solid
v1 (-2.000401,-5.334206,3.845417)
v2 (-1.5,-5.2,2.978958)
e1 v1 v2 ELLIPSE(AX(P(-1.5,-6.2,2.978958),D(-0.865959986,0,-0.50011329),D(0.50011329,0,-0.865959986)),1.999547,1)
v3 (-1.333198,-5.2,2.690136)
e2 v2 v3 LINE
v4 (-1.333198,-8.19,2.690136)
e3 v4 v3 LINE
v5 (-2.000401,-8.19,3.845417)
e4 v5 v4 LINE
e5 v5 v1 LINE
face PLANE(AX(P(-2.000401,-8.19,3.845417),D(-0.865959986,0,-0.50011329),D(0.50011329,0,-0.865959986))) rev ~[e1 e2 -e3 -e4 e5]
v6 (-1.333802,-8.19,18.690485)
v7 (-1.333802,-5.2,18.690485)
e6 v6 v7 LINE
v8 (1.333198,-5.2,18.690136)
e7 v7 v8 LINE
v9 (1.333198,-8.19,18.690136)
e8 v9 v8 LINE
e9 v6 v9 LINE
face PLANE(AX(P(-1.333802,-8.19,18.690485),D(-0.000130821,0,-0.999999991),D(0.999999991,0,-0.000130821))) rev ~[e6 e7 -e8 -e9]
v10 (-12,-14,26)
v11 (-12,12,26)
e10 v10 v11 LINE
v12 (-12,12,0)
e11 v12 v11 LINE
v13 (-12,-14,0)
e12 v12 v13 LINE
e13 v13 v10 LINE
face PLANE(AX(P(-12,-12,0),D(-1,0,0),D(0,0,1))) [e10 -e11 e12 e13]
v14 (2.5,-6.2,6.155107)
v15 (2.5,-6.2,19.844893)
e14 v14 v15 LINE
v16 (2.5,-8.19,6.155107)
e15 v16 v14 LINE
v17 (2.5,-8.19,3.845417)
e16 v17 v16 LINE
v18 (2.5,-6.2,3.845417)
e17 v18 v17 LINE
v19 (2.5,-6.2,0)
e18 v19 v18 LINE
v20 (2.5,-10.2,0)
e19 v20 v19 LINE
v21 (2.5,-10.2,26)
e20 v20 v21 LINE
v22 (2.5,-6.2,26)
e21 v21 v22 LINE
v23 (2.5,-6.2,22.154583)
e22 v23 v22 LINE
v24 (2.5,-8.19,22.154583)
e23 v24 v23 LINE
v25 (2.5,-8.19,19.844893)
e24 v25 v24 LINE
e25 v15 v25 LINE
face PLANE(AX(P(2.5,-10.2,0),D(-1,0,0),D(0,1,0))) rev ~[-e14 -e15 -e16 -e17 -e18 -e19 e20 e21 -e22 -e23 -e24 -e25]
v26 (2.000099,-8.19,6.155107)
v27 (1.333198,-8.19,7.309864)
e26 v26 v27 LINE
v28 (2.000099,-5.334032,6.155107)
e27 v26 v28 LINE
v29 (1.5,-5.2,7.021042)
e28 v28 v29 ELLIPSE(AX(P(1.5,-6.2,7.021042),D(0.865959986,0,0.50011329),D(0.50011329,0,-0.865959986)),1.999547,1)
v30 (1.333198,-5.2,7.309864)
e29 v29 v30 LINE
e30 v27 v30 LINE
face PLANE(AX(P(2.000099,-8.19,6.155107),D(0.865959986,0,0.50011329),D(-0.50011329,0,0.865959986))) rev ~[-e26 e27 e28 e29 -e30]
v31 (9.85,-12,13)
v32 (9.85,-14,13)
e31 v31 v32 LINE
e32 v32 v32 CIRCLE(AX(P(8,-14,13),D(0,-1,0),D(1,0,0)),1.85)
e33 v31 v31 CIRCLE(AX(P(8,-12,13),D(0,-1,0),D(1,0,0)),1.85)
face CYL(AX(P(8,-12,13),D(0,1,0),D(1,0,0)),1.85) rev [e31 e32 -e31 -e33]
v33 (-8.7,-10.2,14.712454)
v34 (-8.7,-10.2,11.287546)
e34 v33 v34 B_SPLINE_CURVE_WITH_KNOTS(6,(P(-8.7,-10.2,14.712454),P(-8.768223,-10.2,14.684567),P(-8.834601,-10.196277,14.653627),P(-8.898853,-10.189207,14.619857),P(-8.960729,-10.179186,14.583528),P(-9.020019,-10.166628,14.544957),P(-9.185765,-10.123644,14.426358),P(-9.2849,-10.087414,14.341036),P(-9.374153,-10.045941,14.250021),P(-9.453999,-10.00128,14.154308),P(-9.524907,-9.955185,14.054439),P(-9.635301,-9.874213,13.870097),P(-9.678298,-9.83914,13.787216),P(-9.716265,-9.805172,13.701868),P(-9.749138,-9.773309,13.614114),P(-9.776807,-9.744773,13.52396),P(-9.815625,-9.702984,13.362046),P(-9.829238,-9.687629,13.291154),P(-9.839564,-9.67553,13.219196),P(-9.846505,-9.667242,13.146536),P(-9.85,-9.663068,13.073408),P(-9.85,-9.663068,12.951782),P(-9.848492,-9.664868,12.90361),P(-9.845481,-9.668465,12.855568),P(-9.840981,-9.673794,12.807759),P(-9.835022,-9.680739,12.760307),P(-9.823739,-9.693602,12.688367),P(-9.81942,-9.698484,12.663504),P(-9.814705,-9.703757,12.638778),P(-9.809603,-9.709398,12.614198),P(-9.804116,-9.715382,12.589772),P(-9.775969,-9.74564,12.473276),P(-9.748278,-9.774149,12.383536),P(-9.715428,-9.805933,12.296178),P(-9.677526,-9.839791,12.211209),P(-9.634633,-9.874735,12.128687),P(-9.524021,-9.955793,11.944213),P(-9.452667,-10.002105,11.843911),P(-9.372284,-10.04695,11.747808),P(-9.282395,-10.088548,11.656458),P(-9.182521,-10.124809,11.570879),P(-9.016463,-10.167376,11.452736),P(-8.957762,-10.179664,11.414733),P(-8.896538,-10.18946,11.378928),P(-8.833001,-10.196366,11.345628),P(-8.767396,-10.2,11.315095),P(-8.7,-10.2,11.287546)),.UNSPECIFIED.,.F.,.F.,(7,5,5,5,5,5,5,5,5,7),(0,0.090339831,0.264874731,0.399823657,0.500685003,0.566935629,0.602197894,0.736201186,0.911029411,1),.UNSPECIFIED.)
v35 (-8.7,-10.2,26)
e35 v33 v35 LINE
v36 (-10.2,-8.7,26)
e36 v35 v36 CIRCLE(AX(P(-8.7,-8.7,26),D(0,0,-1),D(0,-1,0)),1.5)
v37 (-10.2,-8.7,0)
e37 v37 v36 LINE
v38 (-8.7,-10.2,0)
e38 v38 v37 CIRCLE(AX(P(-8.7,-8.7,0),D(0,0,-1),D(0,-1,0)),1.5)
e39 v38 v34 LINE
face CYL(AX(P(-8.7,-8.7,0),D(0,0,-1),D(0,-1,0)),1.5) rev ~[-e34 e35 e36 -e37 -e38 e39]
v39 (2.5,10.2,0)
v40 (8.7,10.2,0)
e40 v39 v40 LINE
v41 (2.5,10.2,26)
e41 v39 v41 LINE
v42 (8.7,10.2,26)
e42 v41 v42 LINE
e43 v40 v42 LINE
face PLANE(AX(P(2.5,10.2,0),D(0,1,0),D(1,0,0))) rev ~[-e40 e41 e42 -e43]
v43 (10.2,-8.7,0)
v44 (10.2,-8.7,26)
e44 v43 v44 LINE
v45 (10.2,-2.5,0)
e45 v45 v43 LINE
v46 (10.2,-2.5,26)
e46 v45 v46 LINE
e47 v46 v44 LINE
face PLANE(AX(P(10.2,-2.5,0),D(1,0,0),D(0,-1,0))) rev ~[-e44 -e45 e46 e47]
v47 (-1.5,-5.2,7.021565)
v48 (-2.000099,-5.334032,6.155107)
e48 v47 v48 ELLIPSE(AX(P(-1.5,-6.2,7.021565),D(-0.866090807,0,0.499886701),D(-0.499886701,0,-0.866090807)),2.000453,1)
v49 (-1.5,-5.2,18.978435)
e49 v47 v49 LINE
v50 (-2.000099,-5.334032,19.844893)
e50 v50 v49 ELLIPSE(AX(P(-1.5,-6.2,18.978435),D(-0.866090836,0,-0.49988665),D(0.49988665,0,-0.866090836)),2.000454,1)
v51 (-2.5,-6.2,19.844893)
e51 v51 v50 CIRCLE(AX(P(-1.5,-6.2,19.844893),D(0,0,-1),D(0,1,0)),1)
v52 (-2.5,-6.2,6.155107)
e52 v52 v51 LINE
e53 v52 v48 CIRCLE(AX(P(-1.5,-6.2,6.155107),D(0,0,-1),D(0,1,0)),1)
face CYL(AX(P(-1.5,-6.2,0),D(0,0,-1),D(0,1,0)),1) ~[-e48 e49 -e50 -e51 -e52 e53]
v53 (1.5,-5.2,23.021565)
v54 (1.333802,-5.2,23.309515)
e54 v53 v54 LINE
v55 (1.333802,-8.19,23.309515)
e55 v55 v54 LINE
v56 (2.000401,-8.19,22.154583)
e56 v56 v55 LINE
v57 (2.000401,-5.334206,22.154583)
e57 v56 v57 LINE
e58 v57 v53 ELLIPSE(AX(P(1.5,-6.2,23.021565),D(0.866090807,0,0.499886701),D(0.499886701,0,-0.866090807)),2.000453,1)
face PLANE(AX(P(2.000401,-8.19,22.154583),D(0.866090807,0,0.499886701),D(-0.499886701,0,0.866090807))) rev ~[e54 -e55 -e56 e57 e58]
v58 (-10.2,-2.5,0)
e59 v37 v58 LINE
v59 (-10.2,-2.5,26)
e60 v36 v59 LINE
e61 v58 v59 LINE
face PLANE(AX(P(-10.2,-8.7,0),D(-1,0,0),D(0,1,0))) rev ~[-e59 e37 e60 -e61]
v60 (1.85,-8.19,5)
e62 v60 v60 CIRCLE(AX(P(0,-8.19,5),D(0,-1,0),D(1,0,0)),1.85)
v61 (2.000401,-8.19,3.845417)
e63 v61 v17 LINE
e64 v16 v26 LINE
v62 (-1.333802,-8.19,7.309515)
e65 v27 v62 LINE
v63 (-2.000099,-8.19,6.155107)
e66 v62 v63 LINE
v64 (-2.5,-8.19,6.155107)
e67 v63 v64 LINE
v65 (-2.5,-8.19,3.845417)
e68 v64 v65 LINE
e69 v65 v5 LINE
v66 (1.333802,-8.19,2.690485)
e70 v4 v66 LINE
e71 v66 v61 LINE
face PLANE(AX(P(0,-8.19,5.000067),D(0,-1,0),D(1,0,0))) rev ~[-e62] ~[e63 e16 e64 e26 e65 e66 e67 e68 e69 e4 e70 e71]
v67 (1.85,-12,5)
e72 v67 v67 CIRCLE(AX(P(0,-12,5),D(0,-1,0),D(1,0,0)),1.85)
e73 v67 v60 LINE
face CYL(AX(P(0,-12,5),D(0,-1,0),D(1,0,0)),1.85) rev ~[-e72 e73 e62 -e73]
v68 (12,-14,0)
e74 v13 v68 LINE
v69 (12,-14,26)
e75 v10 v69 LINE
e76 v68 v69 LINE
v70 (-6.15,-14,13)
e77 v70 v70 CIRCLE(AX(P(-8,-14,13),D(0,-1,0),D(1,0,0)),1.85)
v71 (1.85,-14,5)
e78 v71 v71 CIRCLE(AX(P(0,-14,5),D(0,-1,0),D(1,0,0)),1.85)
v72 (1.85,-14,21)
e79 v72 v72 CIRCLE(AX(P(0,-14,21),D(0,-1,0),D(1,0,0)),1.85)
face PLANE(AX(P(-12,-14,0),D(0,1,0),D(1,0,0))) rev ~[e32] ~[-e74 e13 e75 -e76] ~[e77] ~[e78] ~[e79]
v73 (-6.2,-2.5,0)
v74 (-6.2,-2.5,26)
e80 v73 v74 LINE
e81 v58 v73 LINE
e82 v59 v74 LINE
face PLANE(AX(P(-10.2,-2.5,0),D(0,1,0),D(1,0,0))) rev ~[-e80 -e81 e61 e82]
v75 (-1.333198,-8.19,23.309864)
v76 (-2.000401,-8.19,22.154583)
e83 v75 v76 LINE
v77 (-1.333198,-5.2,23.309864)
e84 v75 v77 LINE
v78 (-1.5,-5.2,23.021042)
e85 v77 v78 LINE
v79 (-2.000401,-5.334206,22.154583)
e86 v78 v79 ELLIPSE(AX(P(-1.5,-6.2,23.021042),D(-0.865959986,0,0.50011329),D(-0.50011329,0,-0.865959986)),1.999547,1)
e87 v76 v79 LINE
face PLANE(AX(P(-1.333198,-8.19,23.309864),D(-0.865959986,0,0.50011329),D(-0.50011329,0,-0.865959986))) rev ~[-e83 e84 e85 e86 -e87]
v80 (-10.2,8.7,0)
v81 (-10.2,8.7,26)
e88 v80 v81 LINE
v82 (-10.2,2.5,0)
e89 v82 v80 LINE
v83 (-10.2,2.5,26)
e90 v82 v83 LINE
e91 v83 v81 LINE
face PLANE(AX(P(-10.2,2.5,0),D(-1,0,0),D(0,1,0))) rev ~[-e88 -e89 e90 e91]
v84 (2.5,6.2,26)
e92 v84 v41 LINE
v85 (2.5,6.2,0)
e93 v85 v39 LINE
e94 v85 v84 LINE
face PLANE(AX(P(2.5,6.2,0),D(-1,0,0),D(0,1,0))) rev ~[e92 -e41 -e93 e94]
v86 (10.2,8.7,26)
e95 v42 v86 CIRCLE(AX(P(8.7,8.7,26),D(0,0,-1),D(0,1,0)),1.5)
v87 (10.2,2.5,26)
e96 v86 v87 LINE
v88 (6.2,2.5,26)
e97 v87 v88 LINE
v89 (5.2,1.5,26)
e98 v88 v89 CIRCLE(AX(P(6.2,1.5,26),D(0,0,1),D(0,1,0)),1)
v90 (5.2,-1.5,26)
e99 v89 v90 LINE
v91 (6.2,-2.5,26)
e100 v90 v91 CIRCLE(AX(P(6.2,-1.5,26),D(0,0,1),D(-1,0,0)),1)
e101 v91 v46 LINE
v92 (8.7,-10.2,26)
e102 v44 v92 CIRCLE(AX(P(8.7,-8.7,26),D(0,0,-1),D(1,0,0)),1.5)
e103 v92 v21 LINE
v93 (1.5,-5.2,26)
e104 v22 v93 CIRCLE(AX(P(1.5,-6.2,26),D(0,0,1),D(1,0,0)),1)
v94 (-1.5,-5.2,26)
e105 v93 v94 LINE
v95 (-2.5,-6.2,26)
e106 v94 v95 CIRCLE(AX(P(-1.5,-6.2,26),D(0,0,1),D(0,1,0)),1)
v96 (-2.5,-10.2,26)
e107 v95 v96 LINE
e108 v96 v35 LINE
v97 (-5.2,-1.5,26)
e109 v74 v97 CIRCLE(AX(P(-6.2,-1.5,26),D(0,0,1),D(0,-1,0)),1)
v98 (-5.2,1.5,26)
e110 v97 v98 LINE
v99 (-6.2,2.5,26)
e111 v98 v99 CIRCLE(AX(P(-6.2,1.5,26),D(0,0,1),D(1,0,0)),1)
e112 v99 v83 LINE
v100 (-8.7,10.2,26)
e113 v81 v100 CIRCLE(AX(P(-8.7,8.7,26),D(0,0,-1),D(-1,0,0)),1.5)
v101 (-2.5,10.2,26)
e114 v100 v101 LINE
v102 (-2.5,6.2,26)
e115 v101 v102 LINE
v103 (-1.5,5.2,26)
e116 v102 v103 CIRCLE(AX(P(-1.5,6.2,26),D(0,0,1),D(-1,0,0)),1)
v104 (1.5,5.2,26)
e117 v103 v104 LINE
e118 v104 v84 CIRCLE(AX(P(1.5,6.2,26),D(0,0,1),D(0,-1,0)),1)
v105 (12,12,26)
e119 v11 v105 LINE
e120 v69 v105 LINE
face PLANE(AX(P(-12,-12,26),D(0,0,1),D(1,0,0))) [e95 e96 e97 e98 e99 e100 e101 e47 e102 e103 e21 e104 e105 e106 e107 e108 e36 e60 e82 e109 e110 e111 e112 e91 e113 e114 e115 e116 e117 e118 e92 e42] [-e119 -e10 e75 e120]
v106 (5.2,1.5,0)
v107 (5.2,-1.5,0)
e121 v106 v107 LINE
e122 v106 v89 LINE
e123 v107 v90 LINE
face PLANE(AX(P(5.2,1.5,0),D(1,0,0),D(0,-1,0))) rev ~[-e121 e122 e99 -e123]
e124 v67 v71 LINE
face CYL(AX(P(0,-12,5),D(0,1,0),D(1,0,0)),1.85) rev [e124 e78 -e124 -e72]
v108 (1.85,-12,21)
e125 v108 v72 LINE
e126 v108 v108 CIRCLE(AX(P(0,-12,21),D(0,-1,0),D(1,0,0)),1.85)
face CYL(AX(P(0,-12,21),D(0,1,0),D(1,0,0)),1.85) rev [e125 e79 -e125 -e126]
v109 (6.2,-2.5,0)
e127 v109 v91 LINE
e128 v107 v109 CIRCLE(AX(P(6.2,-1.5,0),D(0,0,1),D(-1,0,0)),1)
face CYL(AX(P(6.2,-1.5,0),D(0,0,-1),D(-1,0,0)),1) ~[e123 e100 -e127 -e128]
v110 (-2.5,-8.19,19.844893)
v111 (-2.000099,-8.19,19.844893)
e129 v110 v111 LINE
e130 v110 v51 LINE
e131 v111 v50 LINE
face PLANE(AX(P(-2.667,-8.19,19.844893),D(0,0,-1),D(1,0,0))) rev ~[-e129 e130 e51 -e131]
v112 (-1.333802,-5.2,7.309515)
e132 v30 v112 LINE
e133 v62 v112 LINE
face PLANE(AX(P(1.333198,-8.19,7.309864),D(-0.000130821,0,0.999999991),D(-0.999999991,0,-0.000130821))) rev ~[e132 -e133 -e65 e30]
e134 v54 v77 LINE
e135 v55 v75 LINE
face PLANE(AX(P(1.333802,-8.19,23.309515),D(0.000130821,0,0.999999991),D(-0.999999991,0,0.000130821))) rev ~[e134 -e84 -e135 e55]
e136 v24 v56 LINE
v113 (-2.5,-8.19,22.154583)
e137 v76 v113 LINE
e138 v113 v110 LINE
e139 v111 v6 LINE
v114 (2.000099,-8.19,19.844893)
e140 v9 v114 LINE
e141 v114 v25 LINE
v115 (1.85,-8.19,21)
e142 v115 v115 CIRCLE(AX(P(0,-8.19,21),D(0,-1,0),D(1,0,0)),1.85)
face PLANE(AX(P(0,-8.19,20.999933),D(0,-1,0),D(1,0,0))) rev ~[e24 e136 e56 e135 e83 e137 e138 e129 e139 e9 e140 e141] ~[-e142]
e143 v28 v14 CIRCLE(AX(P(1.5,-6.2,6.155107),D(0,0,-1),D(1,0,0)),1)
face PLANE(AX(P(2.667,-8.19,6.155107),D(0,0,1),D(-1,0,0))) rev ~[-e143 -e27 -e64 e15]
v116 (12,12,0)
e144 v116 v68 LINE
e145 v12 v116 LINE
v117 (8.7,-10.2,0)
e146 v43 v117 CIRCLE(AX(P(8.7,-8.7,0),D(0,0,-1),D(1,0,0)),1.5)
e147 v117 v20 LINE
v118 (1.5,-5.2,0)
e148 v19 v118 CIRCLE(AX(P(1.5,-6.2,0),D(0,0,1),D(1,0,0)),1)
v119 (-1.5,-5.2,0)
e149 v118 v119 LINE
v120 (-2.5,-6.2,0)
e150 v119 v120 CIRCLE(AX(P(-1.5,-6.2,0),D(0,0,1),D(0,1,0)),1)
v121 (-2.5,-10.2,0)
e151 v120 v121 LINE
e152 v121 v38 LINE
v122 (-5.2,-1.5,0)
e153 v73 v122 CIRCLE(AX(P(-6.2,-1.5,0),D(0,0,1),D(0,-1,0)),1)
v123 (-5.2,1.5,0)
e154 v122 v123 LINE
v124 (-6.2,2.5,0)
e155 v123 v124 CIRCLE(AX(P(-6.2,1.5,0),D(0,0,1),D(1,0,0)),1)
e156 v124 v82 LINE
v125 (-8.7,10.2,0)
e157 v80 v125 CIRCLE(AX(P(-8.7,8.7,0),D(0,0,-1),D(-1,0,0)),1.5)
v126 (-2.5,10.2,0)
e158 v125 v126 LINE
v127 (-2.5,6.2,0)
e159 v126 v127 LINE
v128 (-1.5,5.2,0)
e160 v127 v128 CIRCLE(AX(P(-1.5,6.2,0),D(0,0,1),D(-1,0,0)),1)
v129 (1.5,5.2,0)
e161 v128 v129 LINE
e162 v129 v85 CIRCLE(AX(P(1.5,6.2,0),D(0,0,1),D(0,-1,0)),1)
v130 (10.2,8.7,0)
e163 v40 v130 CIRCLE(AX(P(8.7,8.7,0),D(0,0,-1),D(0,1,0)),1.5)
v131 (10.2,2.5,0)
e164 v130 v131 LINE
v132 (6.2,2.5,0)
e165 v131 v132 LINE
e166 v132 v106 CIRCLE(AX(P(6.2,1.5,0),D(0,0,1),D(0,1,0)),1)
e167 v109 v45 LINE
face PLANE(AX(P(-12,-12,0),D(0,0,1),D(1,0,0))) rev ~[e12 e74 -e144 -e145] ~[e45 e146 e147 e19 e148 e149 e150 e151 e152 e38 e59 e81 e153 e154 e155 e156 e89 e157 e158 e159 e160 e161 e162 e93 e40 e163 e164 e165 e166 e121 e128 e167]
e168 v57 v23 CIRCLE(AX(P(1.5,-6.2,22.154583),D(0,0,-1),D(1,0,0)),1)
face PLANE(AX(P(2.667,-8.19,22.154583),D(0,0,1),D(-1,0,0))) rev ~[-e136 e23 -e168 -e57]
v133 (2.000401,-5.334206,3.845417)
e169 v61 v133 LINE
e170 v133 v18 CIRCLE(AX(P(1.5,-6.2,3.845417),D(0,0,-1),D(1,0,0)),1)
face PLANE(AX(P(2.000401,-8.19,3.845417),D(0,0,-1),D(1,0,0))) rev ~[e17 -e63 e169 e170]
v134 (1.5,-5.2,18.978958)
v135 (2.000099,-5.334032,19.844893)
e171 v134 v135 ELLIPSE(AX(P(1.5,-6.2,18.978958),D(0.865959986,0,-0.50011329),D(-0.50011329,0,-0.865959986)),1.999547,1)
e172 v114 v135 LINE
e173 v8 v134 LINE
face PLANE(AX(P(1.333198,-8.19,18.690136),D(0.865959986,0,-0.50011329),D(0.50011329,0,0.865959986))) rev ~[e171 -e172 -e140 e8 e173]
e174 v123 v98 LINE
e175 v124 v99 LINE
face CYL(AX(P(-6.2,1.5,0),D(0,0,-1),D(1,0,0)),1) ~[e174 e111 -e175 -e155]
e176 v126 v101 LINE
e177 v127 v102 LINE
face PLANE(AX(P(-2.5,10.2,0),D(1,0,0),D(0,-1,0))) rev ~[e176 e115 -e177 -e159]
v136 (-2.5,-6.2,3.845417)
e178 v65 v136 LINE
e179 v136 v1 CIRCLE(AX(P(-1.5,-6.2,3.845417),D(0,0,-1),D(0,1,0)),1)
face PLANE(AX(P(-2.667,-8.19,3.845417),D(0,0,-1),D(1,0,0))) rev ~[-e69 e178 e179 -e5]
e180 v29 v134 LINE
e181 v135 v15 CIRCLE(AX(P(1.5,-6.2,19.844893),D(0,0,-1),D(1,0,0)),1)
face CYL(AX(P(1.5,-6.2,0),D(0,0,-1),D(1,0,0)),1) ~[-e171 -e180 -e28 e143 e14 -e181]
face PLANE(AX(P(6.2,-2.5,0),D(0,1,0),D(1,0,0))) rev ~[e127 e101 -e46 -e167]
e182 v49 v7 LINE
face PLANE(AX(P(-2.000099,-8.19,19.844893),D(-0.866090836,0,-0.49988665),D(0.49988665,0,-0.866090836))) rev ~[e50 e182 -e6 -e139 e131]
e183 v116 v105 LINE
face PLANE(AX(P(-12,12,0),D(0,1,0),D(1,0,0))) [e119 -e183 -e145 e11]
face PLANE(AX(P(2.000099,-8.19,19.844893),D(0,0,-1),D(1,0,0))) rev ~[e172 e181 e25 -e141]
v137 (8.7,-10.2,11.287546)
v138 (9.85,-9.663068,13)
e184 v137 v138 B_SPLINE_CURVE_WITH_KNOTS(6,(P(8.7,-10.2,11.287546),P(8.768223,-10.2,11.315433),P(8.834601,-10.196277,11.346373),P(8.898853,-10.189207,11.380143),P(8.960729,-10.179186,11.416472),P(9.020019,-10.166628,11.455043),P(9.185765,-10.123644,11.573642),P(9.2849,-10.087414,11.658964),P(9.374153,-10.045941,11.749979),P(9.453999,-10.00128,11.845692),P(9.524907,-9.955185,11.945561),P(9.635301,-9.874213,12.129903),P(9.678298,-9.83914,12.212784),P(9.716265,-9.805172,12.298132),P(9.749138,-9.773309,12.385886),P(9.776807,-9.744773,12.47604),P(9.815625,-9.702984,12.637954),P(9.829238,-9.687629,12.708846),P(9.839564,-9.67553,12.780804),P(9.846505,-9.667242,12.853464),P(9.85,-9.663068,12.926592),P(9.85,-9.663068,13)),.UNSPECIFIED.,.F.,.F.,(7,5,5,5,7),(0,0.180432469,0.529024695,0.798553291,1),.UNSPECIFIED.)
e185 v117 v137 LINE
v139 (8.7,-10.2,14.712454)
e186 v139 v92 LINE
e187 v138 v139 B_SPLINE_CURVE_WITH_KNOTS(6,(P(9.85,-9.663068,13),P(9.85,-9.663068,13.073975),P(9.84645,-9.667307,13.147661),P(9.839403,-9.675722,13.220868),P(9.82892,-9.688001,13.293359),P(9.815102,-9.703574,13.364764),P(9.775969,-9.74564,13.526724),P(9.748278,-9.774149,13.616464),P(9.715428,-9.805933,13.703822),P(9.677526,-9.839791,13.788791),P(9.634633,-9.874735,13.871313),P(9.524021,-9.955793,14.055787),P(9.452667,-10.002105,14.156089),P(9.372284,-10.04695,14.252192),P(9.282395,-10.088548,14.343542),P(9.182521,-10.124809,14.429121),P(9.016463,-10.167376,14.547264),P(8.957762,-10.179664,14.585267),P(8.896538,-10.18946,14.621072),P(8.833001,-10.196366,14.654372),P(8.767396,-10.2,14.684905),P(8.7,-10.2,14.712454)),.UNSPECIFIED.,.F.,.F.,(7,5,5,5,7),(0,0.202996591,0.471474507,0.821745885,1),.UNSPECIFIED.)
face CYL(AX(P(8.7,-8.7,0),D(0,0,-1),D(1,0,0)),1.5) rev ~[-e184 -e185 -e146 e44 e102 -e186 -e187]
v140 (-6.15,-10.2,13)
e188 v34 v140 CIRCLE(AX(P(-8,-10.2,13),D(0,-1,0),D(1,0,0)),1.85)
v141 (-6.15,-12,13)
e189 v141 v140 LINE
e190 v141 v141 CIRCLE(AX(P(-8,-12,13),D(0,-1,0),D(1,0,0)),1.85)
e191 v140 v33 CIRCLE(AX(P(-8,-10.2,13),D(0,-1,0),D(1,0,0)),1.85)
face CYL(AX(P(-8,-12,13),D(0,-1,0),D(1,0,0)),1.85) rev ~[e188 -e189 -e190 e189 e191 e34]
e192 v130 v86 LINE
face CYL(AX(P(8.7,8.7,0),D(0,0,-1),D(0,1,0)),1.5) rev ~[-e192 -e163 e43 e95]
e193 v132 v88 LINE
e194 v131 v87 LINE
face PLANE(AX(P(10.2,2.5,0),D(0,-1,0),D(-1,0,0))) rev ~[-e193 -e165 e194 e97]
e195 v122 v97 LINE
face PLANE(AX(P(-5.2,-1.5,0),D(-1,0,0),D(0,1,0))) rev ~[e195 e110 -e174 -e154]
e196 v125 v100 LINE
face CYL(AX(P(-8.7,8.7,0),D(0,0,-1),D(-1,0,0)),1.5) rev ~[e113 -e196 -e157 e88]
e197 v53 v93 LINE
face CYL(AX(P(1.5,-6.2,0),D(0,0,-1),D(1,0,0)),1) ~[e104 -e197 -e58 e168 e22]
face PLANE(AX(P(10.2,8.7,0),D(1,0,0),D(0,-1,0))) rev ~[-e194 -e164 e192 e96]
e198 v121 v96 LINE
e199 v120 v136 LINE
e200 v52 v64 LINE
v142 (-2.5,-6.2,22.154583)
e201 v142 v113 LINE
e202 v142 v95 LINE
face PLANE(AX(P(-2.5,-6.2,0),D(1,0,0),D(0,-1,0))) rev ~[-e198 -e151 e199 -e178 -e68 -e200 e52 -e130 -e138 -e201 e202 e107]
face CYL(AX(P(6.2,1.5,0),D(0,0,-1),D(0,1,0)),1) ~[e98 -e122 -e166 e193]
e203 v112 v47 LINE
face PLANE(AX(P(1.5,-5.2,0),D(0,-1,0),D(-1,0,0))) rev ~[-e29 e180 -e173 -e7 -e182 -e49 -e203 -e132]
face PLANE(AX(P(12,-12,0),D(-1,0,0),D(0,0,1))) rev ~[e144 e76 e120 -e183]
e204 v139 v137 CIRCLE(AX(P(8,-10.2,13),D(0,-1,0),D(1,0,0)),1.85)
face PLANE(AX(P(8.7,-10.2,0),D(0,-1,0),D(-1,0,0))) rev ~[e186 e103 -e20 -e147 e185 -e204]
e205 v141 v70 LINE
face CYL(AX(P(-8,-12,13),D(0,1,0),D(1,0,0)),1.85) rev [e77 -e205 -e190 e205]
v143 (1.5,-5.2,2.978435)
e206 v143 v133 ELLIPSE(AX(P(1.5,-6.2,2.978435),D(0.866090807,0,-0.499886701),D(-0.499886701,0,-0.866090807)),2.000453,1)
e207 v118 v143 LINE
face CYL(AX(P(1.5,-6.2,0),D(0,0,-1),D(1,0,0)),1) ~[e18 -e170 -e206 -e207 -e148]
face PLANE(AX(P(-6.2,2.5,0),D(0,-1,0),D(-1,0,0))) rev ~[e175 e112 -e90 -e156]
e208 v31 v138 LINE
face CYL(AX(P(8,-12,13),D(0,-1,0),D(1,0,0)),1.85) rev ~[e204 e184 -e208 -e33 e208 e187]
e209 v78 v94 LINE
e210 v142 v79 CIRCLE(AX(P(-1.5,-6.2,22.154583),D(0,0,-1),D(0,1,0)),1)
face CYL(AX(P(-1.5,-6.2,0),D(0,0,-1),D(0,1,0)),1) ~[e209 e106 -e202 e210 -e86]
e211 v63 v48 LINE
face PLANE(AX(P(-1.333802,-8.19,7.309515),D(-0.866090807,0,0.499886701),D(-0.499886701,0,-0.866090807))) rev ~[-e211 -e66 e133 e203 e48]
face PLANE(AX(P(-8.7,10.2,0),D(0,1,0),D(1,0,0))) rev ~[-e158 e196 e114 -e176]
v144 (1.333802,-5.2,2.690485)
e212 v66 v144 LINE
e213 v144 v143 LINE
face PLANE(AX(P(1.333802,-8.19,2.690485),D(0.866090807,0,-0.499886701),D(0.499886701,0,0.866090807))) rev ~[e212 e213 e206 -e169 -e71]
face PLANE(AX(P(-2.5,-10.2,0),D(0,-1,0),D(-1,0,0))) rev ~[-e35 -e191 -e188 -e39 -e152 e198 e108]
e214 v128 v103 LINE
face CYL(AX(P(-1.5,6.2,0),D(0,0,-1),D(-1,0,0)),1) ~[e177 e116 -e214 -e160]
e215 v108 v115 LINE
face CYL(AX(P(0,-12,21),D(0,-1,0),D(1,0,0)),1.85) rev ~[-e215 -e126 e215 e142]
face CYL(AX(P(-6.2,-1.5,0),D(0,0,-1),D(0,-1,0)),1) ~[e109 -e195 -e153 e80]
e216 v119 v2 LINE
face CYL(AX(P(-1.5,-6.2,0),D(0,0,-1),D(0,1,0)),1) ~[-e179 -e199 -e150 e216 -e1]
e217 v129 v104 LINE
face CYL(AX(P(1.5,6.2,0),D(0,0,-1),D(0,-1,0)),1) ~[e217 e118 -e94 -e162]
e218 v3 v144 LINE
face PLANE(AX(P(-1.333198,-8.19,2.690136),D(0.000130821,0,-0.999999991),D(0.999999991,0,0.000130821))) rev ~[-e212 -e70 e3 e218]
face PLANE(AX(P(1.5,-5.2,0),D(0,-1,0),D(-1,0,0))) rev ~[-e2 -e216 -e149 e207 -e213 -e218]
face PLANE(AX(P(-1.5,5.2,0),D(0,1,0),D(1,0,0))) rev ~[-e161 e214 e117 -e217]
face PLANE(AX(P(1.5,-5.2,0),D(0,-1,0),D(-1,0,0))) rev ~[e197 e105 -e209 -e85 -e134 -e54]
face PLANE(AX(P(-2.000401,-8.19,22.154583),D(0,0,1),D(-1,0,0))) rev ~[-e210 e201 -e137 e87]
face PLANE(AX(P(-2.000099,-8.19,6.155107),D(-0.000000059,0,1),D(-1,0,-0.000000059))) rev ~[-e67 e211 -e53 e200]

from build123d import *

# Parameters (mm, degrees)
F0_W     = 24
F0_H     = 24
F1_DEPTH = 26
F2_R     = 1.85
F3_DEPTH = 7.5
F5_START = -3.81
F4_R     = 1.85
F5_DEPTH = 3.19
F6_DEPTH = 2


with BuildPart() as f1:
    # F0 (on Top) → F1 (new body)
    with BuildSketch(Plane.XY):
        Rectangle(F0_W, F0_H)
        with BuildLine():
            Line((-10.2, -8.7), (-10.2, -8.6))
            Line((-10.2, -8.6), (-10.2, -2.5))
            Line((-10.2, -2.5), (-6.2, -2.5))
            ThreePointArc((-6.2, -2.5), (-5.4928932188, -2.2071067812), (-5.2, -1.5))
            Line((-5.2, -1.5), (-5.2, 1.5))
            ThreePointArc((-5.2, 1.5), (-5.4928932188, 2.2071067812), (-6.2, 2.5))
            Line((-6.2, 2.5), (-10.2, 2.5))
            Line((-10.2, 2.5), (-10.2, 8.7))
            ThreePointArc((-10.2, 8.7), (-9.7606601718, 9.7606601718), (-8.7, 10.2))
            Line((-8.7, 10.2), (-8.6, 10.2))
            Line((-8.6, 10.2), (-2.5, 10.2))
            Line((-2.5, 10.2), (-2.5, 6.2))
            ThreePointArc((-2.5, 6.2), (-2.2071067812, 5.4928932188), (-1.5, 5.2))
            Line((-1.5, 5.2), (1.5, 5.2))
            ThreePointArc((1.5, 5.2), (2.2071067812, 5.4928932188), (2.5, 6.2))
            Line((2.5, 6.2), (2.5, 10.2))
            Line((2.5, 10.2), (8.7, 10.2))
            ThreePointArc((8.7, 10.2), (9.7606601718, 9.7606601718), (10.2, 8.7))
            Line((10.2, 8.7), (10.2, 8.6))
            Line((10.2, 8.6), (10.2, 2.5))
            Line((10.2, 2.5), (6.2, 2.5))
            ThreePointArc((6.2, 2.5), (5.4928932188, 2.2071067812), (5.2, 1.5))
            Line((5.2, 1.5), (5.2, -1.5))
            ThreePointArc((5.2, -1.5), (5.4928932188, -2.2071067812), (6.2, -2.5))
            Line((6.2, -2.5), (10.2, -2.5))
            Line((10.2, -2.5), (10.2, -8.7))
            ThreePointArc((10.2, -8.7), (9.7606601718, -9.7606601718), (8.7, -10.2))
            Line((8.7, -10.2), (8.6, -10.2))
            Line((8.6, -10.2), (2.5, -10.2))
            Line((2.5, -10.2), (2.5, -6.2))
            ThreePointArc((2.5, -6.2), (2.2071067812, -5.4928932188), (1.5, -5.2))
            Line((1.5, -5.2), (-1.5, -5.2))
            ThreePointArc((-1.5, -5.2), (-2.2071067812, -5.4928932188), (-2.5, -6.2))
            Line((-2.5, -6.2), (-2.5, -10.2))
            Line((-2.5, -10.2), (-8.7, -10.2))
            ThreePointArc((-8.7, -10.2), (-9.7606601718, -9.7606601718), (-10.2, -8.7))
        make_face(mode=Mode.SUBTRACT)
    extrude(amount=F1_DEPTH)

    # F2 (on face) → F3 (cut)
    with BuildSketch(Plane.XZ.offset(12)):
        with Locations((0, 53)):
            Circle(F2_R)
        with Locations((8, 45)):
            Circle(F2_R)
        with Locations((-8, 45)):
            Circle(F2_R)
        with Locations((0, 37)):
            Circle(F2_R)
        with Locations((-8, 29)):
            Circle(F2_R)
        with Locations((0, 21)):
            Circle(F2_R)
        with Locations((8, 29)):
            Circle(F2_R)
        with Locations((8, 13)):
            Circle(F2_R)
        with Locations((-8, 13)):
            Circle(F2_R)
        with Locations((0, 5)):
            Circle(F2_R)
    extrude(amount=-F3_DEPTH, mode=Mode.SUBTRACT)

    # F4 (on face) → F5 (cut)
    with BuildSketch(Plane.XZ.offset(12).offset(F5_START)):
        Polygon((1.3331978443, 18.6901357984), (2.0000989222, 19.8448934496), (2.667, 19.8448934496), (2.667, 22.1545832015), (2.0004010778, 22.1545832015), (1.3338021557, 23.3095153022), (-1.3331978443, 23.3098642016), (-2.0004011691, 22.1545832015), (-2.667, 22.1545832015), (-2.667, 19.8448934496), (-2.0000989222, 19.8448934496), (-1.3338021557, 18.6904846978), align=None)
        with Locations((0, 21)):
            Circle(F4_R, mode=Mode.SUBTRACT)
        Polygon((2.667, 6.1551065504), (2.0000989222, 6.1551065504), (1.3331978443, 7.3098642016), (-1.3338021557, 7.3095153022), (-2.0000989906, 6.15510659), (-2.667, 6.1551065504), (-2.667, 3.8454167985), (-2.0004011691, 3.8454167985), (-1.3331978443, 2.6901357984), (1.3338021557, 2.6904846978), (2.0004010778, 3.8454167985), (2.667, 3.8454167985), align=None)
        with Locations((0, 5)):
            Circle(F4_R, mode=Mode.SUBTRACT)
    extrude(amount=-F5_DEPTH, mode=Mode.SUBTRACT)

    # F6 (add): a face of the model
    f6_faces = [f1.faces().sort_by_distance(p)[0] for p in [
        (0, -12, 13),
    ]]
    extrude(f6_faces, amount=F6_DEPTH)


solid = f1.part
